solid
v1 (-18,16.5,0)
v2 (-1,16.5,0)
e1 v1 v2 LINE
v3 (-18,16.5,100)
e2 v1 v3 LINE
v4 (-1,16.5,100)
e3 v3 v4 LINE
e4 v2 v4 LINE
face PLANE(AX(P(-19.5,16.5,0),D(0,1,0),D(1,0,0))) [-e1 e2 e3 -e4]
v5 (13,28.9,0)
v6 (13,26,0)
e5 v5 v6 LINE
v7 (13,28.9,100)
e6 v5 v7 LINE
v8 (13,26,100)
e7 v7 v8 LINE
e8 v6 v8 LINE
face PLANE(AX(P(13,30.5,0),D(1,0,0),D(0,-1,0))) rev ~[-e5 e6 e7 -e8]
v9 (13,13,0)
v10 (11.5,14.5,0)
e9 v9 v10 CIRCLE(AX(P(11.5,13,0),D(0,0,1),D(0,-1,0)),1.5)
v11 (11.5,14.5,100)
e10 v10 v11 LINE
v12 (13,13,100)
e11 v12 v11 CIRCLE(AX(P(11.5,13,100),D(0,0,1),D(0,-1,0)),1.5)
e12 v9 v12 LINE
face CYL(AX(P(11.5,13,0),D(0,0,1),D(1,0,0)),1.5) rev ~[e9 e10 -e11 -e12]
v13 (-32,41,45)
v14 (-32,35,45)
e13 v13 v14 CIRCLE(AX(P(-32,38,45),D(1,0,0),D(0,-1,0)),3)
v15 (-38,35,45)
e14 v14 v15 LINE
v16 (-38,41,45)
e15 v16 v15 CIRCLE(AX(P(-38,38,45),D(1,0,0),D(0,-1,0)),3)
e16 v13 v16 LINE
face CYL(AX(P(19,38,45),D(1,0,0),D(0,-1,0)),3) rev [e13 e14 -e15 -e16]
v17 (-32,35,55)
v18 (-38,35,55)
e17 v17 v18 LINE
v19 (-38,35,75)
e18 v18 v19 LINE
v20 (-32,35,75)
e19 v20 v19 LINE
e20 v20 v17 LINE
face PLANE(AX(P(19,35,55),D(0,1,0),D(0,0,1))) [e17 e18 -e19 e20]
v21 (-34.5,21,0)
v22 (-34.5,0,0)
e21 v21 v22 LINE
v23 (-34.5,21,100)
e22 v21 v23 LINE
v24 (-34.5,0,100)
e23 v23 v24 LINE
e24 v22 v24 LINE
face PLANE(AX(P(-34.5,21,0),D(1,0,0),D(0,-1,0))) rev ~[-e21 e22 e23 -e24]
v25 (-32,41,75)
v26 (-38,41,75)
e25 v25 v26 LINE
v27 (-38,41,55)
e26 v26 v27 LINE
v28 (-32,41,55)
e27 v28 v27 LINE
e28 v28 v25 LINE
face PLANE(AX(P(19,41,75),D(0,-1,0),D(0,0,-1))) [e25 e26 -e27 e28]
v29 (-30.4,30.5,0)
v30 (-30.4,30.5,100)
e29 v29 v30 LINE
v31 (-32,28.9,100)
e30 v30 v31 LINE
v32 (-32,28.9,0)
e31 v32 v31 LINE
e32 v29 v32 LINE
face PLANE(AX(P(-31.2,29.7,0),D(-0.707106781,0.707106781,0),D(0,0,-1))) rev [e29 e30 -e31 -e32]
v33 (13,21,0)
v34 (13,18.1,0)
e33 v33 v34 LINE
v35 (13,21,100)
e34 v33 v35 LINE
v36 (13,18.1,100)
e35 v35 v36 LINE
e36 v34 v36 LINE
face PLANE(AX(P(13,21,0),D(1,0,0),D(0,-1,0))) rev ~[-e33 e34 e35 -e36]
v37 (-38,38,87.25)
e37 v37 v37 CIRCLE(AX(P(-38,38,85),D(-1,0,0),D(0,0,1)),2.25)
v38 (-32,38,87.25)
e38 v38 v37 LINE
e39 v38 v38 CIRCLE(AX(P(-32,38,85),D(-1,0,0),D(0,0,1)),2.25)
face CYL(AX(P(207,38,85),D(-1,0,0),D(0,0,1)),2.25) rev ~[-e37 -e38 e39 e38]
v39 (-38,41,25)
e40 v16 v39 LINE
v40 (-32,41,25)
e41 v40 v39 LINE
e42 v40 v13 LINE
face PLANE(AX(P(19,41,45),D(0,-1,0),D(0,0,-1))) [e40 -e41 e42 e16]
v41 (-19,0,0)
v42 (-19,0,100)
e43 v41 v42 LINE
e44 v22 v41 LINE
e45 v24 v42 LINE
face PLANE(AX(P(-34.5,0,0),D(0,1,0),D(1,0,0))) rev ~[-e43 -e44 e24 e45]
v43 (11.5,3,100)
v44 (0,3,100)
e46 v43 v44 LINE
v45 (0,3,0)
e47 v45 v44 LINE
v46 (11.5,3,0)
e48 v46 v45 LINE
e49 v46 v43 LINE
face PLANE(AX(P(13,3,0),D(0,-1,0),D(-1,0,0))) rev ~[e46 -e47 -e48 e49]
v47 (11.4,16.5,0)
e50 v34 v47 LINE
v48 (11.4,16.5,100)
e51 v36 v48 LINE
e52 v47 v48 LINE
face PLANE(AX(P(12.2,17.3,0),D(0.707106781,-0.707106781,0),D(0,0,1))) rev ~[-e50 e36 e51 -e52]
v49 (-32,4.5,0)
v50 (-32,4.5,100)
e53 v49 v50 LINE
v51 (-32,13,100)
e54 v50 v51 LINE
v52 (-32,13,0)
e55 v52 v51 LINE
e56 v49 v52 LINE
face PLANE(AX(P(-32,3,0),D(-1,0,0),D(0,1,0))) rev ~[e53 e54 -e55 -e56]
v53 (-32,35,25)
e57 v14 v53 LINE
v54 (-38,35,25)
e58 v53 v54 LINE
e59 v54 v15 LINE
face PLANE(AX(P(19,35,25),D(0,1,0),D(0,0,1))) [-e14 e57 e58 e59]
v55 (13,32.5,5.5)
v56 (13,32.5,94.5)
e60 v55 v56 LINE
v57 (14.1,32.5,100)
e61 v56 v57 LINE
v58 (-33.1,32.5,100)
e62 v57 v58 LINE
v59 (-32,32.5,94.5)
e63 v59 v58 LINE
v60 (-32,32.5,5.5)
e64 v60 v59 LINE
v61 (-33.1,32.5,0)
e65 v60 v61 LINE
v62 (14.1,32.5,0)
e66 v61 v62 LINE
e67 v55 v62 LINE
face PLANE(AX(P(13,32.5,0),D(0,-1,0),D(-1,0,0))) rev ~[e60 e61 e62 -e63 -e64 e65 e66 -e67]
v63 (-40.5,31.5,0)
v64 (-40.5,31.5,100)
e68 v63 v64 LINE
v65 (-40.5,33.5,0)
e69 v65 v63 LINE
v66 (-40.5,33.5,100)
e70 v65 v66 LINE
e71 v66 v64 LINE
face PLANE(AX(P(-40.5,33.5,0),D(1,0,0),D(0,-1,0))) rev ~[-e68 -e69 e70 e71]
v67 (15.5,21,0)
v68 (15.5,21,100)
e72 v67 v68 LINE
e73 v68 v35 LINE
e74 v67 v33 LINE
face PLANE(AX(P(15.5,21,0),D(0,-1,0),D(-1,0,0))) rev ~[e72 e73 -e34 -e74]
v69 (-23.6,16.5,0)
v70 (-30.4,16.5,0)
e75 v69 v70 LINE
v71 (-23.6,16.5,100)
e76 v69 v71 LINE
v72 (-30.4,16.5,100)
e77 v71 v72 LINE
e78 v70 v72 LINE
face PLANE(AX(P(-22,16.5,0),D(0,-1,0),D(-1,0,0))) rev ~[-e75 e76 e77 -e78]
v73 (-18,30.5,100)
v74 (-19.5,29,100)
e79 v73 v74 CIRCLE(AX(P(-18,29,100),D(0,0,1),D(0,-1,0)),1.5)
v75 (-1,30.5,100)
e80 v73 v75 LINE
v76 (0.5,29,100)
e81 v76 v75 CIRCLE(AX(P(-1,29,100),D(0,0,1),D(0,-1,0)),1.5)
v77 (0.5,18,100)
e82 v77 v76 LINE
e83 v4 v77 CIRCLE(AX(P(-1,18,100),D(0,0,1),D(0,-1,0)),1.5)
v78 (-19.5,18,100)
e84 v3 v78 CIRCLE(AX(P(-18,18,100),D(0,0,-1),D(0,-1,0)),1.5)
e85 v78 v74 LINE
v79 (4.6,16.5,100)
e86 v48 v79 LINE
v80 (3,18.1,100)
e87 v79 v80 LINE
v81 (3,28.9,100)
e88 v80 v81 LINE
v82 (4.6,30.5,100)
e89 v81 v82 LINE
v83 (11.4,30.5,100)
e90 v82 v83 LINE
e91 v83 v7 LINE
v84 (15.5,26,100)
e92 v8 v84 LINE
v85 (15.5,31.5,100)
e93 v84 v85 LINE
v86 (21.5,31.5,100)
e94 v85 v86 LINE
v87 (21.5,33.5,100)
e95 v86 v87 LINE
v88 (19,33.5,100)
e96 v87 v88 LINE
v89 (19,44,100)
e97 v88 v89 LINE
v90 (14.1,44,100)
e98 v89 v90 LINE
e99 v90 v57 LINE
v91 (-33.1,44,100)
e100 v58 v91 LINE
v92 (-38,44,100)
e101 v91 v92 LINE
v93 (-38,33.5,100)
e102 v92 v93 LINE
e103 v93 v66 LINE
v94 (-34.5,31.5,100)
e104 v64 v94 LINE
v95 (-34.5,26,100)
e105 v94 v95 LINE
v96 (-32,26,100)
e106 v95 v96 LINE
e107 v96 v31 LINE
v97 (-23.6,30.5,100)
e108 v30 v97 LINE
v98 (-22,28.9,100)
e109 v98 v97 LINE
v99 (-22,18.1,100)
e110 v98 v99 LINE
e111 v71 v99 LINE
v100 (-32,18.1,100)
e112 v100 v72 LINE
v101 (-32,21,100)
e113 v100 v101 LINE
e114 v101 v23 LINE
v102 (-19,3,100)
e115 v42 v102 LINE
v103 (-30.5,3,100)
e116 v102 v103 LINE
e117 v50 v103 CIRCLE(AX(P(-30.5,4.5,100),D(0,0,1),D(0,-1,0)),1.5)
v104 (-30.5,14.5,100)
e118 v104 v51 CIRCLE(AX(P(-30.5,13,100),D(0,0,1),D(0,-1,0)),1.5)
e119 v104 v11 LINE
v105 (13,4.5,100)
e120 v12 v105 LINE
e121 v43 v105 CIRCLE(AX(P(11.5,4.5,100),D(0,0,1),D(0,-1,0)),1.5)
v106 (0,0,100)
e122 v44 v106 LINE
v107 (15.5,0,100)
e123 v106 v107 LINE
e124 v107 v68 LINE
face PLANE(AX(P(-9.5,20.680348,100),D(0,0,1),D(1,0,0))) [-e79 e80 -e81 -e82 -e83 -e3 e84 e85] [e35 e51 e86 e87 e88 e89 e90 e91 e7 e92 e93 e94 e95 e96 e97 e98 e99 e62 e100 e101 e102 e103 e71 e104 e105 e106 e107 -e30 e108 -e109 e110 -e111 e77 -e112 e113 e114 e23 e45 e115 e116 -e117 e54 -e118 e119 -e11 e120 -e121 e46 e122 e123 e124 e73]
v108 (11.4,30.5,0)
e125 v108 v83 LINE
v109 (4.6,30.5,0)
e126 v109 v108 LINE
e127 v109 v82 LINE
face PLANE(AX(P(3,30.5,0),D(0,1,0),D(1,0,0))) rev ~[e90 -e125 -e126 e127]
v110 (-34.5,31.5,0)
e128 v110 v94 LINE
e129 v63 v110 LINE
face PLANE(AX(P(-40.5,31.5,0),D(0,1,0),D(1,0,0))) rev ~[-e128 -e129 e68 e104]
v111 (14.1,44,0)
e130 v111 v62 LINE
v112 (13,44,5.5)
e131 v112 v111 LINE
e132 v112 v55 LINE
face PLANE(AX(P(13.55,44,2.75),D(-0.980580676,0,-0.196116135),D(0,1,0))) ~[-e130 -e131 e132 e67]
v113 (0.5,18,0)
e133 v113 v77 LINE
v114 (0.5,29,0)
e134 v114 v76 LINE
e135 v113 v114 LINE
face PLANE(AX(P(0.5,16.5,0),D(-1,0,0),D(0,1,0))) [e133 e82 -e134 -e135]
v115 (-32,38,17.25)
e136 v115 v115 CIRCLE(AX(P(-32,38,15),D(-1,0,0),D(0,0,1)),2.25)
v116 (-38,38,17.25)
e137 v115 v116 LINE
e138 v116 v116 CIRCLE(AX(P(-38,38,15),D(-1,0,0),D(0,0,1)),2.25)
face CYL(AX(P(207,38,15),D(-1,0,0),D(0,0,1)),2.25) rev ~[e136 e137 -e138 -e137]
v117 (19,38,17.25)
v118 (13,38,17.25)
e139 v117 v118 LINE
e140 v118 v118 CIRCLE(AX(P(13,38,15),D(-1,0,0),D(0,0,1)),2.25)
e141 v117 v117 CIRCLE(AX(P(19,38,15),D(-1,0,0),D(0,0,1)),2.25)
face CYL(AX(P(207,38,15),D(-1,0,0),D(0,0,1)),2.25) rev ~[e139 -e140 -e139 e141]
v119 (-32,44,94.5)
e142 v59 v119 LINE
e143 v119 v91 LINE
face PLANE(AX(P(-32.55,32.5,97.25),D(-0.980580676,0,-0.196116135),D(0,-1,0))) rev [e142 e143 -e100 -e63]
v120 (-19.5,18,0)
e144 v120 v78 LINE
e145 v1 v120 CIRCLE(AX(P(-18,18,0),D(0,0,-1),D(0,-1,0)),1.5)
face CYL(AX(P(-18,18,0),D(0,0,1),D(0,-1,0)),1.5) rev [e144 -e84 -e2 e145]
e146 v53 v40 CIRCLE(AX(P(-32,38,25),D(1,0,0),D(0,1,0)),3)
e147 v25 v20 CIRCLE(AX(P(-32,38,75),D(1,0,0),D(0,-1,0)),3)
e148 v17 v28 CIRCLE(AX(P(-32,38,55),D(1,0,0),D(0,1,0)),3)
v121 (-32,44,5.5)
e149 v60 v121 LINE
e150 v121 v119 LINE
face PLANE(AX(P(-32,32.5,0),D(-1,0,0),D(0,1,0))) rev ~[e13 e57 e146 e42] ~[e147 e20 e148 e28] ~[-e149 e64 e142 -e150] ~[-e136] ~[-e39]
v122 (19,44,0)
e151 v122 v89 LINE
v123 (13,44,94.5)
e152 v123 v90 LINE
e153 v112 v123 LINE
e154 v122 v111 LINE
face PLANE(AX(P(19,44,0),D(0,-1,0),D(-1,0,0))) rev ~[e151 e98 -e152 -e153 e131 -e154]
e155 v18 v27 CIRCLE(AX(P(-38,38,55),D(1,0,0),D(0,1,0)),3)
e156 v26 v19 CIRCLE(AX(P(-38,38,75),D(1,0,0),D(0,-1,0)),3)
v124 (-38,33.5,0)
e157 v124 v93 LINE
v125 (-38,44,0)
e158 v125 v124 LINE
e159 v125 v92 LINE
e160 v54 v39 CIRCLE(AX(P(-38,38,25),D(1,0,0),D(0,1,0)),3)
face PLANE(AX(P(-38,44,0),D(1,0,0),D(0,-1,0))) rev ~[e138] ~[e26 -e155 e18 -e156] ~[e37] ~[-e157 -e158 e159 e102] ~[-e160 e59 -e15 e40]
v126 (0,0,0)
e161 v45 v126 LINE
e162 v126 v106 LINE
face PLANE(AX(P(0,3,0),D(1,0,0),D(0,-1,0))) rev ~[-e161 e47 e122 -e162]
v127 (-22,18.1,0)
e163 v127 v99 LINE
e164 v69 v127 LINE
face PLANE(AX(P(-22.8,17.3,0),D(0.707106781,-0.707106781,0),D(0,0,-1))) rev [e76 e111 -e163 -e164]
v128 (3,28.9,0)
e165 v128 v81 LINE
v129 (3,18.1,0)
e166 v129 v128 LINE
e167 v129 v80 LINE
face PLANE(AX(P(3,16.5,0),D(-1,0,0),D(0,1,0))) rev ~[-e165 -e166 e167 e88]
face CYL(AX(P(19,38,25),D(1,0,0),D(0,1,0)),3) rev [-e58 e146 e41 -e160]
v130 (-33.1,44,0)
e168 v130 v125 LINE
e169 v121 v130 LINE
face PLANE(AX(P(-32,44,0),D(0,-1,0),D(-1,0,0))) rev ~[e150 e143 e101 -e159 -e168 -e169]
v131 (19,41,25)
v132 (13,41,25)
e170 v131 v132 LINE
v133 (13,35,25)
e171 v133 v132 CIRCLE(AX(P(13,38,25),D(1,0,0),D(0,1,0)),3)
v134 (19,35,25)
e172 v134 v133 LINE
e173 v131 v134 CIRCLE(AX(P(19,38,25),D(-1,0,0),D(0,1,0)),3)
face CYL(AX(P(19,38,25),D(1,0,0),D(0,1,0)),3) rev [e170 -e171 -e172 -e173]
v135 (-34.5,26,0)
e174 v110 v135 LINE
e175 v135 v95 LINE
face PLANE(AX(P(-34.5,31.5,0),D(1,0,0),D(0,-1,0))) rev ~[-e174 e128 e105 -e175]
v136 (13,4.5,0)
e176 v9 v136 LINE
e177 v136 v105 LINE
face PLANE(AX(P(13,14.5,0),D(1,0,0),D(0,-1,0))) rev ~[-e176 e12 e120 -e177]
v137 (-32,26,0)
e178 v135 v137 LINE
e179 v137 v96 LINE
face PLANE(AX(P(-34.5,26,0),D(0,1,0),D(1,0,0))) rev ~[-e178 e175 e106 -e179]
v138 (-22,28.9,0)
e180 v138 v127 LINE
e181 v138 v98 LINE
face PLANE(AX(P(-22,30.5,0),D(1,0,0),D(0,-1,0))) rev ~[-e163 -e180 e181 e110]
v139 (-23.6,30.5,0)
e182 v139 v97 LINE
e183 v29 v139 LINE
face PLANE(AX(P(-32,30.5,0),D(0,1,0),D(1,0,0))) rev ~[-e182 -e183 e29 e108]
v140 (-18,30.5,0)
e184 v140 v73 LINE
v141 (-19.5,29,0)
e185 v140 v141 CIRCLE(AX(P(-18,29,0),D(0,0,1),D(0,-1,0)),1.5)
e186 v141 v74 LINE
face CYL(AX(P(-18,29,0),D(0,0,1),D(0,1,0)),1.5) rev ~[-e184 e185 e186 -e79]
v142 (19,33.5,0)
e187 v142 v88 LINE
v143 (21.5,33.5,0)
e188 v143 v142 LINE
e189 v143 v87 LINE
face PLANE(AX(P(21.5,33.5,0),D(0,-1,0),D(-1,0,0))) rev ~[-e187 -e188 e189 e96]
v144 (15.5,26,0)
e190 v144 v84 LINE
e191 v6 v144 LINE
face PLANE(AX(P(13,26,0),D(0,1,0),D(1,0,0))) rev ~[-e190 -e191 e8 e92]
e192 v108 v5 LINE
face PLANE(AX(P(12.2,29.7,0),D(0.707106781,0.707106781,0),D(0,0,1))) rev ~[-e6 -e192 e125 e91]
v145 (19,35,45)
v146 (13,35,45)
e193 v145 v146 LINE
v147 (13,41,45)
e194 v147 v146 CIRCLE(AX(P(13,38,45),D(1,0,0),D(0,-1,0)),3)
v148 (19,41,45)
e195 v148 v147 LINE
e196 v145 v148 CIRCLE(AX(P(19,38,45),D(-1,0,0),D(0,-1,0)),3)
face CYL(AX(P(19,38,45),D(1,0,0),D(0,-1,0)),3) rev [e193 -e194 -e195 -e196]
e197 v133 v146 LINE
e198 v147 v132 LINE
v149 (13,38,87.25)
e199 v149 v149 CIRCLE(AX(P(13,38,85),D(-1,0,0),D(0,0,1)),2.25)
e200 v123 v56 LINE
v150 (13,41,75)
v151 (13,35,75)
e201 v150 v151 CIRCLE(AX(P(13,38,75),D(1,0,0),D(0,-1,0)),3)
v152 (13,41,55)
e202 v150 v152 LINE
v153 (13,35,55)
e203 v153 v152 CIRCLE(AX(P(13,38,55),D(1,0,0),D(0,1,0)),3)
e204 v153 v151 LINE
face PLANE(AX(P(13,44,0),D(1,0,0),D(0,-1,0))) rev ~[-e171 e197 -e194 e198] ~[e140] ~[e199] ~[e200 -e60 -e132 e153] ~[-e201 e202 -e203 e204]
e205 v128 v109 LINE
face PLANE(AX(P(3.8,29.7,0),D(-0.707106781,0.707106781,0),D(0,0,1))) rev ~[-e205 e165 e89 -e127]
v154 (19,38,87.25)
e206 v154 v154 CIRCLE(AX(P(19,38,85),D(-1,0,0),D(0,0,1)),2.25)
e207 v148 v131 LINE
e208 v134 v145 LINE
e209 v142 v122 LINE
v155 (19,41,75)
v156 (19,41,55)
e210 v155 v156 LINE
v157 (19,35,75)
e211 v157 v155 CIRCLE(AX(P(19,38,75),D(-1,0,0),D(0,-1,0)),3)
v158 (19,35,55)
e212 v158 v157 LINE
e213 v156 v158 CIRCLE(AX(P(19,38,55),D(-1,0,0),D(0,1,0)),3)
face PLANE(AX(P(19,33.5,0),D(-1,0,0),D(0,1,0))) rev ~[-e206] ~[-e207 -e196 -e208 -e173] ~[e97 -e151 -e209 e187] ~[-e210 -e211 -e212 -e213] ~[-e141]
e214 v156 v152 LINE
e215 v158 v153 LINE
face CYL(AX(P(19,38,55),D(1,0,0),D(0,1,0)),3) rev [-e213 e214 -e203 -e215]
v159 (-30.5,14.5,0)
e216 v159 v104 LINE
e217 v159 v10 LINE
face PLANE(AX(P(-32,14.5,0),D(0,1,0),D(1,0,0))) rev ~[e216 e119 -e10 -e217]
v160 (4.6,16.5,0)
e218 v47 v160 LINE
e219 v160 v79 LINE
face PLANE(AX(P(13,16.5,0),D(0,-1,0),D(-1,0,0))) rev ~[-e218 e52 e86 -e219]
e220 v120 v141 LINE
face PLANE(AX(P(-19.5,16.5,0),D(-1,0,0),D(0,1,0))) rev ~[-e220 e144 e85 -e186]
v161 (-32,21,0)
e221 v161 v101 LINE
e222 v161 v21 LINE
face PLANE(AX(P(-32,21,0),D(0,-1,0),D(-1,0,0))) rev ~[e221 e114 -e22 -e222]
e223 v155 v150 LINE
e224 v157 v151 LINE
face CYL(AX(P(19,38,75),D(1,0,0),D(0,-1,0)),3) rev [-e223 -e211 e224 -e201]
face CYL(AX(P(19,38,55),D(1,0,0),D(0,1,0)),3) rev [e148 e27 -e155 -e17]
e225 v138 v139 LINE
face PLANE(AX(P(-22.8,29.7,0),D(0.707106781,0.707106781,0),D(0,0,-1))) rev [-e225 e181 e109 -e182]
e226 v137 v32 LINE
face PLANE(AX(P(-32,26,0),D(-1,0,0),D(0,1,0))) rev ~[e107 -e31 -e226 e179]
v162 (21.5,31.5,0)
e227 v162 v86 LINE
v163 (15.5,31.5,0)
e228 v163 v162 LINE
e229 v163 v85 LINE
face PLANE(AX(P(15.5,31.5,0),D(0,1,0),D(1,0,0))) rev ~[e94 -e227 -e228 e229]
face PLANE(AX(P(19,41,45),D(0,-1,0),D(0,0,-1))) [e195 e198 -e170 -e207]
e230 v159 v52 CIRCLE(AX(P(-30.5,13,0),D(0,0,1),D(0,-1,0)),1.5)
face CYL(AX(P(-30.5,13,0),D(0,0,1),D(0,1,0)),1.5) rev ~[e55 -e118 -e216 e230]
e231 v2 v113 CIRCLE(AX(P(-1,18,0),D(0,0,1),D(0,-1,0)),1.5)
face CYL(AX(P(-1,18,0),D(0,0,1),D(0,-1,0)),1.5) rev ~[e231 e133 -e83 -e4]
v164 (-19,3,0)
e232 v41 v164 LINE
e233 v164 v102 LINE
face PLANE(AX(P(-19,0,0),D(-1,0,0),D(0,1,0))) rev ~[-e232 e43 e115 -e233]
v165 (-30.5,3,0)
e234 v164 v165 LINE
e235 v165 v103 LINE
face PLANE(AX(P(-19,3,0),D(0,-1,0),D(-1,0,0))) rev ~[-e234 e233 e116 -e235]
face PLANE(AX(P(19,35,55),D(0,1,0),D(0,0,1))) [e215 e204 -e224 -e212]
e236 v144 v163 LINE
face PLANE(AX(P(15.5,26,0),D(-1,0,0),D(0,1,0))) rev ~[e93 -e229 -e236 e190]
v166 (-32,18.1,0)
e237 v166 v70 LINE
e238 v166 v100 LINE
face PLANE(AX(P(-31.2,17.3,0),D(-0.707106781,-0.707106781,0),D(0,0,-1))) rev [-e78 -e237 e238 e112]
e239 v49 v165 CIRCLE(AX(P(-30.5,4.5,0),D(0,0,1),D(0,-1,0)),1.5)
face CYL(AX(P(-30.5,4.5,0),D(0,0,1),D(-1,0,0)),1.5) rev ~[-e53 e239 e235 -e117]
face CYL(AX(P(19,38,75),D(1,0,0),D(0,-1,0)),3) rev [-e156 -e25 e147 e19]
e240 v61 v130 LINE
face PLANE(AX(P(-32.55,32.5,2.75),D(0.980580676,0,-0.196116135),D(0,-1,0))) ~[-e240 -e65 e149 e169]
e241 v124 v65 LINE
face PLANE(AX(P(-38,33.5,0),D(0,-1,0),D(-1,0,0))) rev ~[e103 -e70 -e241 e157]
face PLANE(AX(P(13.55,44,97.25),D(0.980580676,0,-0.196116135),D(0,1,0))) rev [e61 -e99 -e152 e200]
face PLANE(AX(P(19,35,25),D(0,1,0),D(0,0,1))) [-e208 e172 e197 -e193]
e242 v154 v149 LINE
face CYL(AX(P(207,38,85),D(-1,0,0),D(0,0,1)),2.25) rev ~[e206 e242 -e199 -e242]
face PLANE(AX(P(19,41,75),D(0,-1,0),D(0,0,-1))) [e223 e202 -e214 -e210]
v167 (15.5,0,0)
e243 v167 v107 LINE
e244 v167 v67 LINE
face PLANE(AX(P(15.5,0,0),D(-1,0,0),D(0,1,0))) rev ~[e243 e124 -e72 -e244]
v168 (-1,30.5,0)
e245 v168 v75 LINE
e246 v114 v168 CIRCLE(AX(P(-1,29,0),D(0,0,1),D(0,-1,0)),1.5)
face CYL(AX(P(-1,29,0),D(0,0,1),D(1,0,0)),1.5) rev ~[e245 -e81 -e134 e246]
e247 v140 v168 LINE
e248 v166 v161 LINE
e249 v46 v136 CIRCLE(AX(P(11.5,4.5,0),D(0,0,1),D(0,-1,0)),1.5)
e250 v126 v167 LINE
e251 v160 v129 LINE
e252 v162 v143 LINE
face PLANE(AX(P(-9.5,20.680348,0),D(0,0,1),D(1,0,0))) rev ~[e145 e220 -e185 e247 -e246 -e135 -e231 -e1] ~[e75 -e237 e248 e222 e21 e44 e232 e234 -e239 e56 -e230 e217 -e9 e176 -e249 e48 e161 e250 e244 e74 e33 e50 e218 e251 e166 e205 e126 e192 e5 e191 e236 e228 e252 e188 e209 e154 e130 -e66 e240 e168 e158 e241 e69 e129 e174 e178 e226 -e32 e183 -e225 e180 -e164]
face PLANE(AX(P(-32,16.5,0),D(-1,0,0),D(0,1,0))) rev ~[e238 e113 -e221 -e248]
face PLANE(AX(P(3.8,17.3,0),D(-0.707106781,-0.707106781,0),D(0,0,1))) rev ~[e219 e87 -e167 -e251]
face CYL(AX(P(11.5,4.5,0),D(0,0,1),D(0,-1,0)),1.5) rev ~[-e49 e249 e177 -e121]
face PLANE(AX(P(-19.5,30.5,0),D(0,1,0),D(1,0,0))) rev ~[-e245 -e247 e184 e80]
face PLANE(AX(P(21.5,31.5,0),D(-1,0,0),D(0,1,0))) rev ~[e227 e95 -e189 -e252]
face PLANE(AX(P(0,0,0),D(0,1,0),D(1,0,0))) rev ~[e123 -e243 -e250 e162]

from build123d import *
from OCP.BRepFilletAPI import BRepFilletAPI_MakeChamfer

# Parameters (mm, degrees)
SCHIZZO1_W                   = 20
SCHIZZO1_H                   = 14
ESTRUSIONE_ESTRUSIONE1_DEPTH = 100
SMUSSO1_SIZE                 = 1.6
RACCORDO1_R                  = 1.5
SMUSSO2_SIZE                 = 5.5
SMUSSO2_SIZE2                = 1.1
SMUSSO3_SIZE                 = 5.5
SMUSSO3_SIZE2                = 1.1
FORO_PER_VITE_M4_1_D         = 4.5
FORO_PER_VITE_M4_1_DEPTH     = 188
FORO_PER_VITE_M4_1_TIP       = 1.351936393
TAGLIO_ESTRUSIONE1_DEPTH     = 81


with BuildPart() as part:
    # Schizzo1 → Estrusione-Estrusione1 (new body)
    with BuildSketch(Plane.XY):
        Polygon((0, 0), (15.5, 0), (15.5, 21), (13, 21), (13, 16.5), (3, 16.5), (3, 30.5), (13, 30.5), (13, 26), (15.5, 26), (15.5, 31.5), (21.5, 31.5), (21.5, 33.5), (19, 33.5), (19, 44), (13, 44), (13, 32.5), (-32, 32.5), (-32, 44), (-38, 44), (-38, 33.5), (-40.5, 33.5), (-40.5, 31.5), (-34.5, 31.5), (-34.5, 26), (-32, 26), (-32, 30.5), (-22, 30.5), (-22, 16.5), (-32, 16.5), (-32, 21), (-34.5, 21), (-34.5, 0), (-19, 0), (-19, 3), (-32, 3), (-32, 14.5), (13, 14.5), (13, 3), (0, 3), align=None)
        with Locations((-9.5, 23.5)):
            Rectangle(SCHIZZO1_W, SCHIZZO1_H, mode=Mode.SUBTRACT)
    extrude(amount=ESTRUSIONE_ESTRUSIONE1_DEPTH)

    # Smusso1
    smusso1_edges = [part.edges().sort_by_distance(p)[0] for p in [
        (-32, 16.5, 50),
        (-22, 16.5, 50),
        (-22, 30.5, 50),
        (-32, 30.5, 50),
        (13, 30.5, 50),
        (3, 30.5, 50),
        (3, 16.5, 50),
        (13, 16.5, 50),
    ]]
    chamfer(smusso1_edges, length=SMUSSO1_SIZE)

    # Raccordo1
    raccordo1_edges = [part.edges().sort_by_distance(p)[0] for p in [
        (13, 3, 50),
        (13, 14.5, 50),
        (-32, 14.5, 50),
        (-32, 3, 50),
        (-19.5, 30.5, 50),
        (-19.5, 16.5, 50),
        (0.5, 16.5, 50),
        (0.5, 30.5, 50),
    ]]
    fillet(raccordo1_edges, radius=RACCORDO1_R)

    # Smusso2: one chamfer whose edges measure the first distance from different faces: ONE call of the kernel's chamfer builder (chamfer() names one face for all edges)
    smusso2_edges_1 = [part.edges().sort_by_distance(p)[0] for p in [
        (13, 38.25, 100),
    ]]
    smusso2_side_1 = [part.faces().sort_by_distance(p)[0] for p in [
        (13, 38.25, 50),
    ]]
    smusso2_edges_2 = [part.edges().sort_by_distance(p)[0] for p in [
        (-32, 38.25, 100),
    ]]
    smusso2_side_2 = [part.faces().sort_by_distance(p)[0] for p in [
        (-32, 38.25, 50),
    ]]
    smusso2 = BRepFilletAPI_MakeChamfer(part.part.solid().wrapped)
    for e in smusso2_edges_1:
        smusso2.Add(SMUSSO2_SIZE, SMUSSO2_SIZE2, e.wrapped, smusso2_side_1[0].wrapped)  # the first distance lies on this face
    for e in smusso2_edges_2:
        smusso2.Add(SMUSSO2_SIZE, SMUSSO2_SIZE2, e.wrapped, smusso2_side_2[0].wrapped)  # the first distance lies on this face
    add(Compound.cast(smusso2.Shape()), mode=Mode.REPLACE)

    # Smusso3: one chamfer whose edges measure the first distance from different faces: ONE call of the kernel's chamfer builder (chamfer() names one face for all edges)
    smusso3_edges_1 = [part.edges().sort_by_distance(p)[0] for p in [
        (-32, 38.25, 0),
    ]]
    smusso3_side_1 = [part.faces().sort_by_distance(p)[0] for p in [
        (-32, 38.25, 47.25),
    ]]
    smusso3_edges_2 = [part.edges().sort_by_distance(p)[0] for p in [
        (13, 38.25, 0),
    ]]
    smusso3_side_2 = [part.faces().sort_by_distance(p)[0] for p in [
        (13, 38.25, 47.25),
    ]]
    smusso3 = BRepFilletAPI_MakeChamfer(part.part.solid().wrapped)
    for e in smusso3_edges_1:
        smusso3.Add(SMUSSO3_SIZE, SMUSSO3_SIZE2, e.wrapped, smusso3_side_1[0].wrapped)  # the first distance lies on this face
    for e in smusso3_edges_2:
        smusso3.Add(SMUSSO3_SIZE, SMUSSO3_SIZE2, e.wrapped, smusso3_side_2[0].wrapped)  # the first distance lies on this face
    add(Compound.cast(smusso3.Shape()), mode=Mode.REPLACE)

    # Foro per Vite M4-1
    with Locations(Plane(origin=(19, 0, 0), x_dir=(0, 0, -1), z_dir=(1, 0, 0))):
        with Locations((-85, 38), (-15, 38)):
            Hole(FORO_PER_VITE_M4_1_D / 2, depth=FORO_PER_VITE_M4_1_DEPTH)
            with Locations((0, 0, -(FORO_PER_VITE_M4_1_DEPTH + FORO_PER_VITE_M4_1_TIP / 2))):  # 118° drill point
                Cone(0, FORO_PER_VITE_M4_1_D / 2, FORO_PER_VITE_M4_1_TIP, mode=Mode.SUBTRACT)

    # Schizzo4 → Taglio-Estrusione1 (cut)
    with BuildSketch(Plane(origin=(19, 0, 0), x_dir=(0, 0, -1), z_dir=(1, 0, 0))):
        with BuildLine():
            Line((-75, 41), (-55, 41))
            ThreePointArc((-55, 41), (-52, 38), (-55, 35))
            Line((-55, 35), (-75, 35))
            ThreePointArc((-75, 35), (-78, 38), (-75, 41))
        make_face()
        with BuildLine():
            Line((-45, 41), (-25, 41))
            ThreePointArc((-25, 41), (-22, 38), (-25, 35))
            Line((-25, 35), (-45, 35))
            ThreePointArc((-45, 35), (-48, 38), (-45, 41))
        make_face()
    extrude(amount=-TAGLIO_ESTRUSIONE1_DEPTH, mode=Mode.SUBTRACT)


solid = part.part
